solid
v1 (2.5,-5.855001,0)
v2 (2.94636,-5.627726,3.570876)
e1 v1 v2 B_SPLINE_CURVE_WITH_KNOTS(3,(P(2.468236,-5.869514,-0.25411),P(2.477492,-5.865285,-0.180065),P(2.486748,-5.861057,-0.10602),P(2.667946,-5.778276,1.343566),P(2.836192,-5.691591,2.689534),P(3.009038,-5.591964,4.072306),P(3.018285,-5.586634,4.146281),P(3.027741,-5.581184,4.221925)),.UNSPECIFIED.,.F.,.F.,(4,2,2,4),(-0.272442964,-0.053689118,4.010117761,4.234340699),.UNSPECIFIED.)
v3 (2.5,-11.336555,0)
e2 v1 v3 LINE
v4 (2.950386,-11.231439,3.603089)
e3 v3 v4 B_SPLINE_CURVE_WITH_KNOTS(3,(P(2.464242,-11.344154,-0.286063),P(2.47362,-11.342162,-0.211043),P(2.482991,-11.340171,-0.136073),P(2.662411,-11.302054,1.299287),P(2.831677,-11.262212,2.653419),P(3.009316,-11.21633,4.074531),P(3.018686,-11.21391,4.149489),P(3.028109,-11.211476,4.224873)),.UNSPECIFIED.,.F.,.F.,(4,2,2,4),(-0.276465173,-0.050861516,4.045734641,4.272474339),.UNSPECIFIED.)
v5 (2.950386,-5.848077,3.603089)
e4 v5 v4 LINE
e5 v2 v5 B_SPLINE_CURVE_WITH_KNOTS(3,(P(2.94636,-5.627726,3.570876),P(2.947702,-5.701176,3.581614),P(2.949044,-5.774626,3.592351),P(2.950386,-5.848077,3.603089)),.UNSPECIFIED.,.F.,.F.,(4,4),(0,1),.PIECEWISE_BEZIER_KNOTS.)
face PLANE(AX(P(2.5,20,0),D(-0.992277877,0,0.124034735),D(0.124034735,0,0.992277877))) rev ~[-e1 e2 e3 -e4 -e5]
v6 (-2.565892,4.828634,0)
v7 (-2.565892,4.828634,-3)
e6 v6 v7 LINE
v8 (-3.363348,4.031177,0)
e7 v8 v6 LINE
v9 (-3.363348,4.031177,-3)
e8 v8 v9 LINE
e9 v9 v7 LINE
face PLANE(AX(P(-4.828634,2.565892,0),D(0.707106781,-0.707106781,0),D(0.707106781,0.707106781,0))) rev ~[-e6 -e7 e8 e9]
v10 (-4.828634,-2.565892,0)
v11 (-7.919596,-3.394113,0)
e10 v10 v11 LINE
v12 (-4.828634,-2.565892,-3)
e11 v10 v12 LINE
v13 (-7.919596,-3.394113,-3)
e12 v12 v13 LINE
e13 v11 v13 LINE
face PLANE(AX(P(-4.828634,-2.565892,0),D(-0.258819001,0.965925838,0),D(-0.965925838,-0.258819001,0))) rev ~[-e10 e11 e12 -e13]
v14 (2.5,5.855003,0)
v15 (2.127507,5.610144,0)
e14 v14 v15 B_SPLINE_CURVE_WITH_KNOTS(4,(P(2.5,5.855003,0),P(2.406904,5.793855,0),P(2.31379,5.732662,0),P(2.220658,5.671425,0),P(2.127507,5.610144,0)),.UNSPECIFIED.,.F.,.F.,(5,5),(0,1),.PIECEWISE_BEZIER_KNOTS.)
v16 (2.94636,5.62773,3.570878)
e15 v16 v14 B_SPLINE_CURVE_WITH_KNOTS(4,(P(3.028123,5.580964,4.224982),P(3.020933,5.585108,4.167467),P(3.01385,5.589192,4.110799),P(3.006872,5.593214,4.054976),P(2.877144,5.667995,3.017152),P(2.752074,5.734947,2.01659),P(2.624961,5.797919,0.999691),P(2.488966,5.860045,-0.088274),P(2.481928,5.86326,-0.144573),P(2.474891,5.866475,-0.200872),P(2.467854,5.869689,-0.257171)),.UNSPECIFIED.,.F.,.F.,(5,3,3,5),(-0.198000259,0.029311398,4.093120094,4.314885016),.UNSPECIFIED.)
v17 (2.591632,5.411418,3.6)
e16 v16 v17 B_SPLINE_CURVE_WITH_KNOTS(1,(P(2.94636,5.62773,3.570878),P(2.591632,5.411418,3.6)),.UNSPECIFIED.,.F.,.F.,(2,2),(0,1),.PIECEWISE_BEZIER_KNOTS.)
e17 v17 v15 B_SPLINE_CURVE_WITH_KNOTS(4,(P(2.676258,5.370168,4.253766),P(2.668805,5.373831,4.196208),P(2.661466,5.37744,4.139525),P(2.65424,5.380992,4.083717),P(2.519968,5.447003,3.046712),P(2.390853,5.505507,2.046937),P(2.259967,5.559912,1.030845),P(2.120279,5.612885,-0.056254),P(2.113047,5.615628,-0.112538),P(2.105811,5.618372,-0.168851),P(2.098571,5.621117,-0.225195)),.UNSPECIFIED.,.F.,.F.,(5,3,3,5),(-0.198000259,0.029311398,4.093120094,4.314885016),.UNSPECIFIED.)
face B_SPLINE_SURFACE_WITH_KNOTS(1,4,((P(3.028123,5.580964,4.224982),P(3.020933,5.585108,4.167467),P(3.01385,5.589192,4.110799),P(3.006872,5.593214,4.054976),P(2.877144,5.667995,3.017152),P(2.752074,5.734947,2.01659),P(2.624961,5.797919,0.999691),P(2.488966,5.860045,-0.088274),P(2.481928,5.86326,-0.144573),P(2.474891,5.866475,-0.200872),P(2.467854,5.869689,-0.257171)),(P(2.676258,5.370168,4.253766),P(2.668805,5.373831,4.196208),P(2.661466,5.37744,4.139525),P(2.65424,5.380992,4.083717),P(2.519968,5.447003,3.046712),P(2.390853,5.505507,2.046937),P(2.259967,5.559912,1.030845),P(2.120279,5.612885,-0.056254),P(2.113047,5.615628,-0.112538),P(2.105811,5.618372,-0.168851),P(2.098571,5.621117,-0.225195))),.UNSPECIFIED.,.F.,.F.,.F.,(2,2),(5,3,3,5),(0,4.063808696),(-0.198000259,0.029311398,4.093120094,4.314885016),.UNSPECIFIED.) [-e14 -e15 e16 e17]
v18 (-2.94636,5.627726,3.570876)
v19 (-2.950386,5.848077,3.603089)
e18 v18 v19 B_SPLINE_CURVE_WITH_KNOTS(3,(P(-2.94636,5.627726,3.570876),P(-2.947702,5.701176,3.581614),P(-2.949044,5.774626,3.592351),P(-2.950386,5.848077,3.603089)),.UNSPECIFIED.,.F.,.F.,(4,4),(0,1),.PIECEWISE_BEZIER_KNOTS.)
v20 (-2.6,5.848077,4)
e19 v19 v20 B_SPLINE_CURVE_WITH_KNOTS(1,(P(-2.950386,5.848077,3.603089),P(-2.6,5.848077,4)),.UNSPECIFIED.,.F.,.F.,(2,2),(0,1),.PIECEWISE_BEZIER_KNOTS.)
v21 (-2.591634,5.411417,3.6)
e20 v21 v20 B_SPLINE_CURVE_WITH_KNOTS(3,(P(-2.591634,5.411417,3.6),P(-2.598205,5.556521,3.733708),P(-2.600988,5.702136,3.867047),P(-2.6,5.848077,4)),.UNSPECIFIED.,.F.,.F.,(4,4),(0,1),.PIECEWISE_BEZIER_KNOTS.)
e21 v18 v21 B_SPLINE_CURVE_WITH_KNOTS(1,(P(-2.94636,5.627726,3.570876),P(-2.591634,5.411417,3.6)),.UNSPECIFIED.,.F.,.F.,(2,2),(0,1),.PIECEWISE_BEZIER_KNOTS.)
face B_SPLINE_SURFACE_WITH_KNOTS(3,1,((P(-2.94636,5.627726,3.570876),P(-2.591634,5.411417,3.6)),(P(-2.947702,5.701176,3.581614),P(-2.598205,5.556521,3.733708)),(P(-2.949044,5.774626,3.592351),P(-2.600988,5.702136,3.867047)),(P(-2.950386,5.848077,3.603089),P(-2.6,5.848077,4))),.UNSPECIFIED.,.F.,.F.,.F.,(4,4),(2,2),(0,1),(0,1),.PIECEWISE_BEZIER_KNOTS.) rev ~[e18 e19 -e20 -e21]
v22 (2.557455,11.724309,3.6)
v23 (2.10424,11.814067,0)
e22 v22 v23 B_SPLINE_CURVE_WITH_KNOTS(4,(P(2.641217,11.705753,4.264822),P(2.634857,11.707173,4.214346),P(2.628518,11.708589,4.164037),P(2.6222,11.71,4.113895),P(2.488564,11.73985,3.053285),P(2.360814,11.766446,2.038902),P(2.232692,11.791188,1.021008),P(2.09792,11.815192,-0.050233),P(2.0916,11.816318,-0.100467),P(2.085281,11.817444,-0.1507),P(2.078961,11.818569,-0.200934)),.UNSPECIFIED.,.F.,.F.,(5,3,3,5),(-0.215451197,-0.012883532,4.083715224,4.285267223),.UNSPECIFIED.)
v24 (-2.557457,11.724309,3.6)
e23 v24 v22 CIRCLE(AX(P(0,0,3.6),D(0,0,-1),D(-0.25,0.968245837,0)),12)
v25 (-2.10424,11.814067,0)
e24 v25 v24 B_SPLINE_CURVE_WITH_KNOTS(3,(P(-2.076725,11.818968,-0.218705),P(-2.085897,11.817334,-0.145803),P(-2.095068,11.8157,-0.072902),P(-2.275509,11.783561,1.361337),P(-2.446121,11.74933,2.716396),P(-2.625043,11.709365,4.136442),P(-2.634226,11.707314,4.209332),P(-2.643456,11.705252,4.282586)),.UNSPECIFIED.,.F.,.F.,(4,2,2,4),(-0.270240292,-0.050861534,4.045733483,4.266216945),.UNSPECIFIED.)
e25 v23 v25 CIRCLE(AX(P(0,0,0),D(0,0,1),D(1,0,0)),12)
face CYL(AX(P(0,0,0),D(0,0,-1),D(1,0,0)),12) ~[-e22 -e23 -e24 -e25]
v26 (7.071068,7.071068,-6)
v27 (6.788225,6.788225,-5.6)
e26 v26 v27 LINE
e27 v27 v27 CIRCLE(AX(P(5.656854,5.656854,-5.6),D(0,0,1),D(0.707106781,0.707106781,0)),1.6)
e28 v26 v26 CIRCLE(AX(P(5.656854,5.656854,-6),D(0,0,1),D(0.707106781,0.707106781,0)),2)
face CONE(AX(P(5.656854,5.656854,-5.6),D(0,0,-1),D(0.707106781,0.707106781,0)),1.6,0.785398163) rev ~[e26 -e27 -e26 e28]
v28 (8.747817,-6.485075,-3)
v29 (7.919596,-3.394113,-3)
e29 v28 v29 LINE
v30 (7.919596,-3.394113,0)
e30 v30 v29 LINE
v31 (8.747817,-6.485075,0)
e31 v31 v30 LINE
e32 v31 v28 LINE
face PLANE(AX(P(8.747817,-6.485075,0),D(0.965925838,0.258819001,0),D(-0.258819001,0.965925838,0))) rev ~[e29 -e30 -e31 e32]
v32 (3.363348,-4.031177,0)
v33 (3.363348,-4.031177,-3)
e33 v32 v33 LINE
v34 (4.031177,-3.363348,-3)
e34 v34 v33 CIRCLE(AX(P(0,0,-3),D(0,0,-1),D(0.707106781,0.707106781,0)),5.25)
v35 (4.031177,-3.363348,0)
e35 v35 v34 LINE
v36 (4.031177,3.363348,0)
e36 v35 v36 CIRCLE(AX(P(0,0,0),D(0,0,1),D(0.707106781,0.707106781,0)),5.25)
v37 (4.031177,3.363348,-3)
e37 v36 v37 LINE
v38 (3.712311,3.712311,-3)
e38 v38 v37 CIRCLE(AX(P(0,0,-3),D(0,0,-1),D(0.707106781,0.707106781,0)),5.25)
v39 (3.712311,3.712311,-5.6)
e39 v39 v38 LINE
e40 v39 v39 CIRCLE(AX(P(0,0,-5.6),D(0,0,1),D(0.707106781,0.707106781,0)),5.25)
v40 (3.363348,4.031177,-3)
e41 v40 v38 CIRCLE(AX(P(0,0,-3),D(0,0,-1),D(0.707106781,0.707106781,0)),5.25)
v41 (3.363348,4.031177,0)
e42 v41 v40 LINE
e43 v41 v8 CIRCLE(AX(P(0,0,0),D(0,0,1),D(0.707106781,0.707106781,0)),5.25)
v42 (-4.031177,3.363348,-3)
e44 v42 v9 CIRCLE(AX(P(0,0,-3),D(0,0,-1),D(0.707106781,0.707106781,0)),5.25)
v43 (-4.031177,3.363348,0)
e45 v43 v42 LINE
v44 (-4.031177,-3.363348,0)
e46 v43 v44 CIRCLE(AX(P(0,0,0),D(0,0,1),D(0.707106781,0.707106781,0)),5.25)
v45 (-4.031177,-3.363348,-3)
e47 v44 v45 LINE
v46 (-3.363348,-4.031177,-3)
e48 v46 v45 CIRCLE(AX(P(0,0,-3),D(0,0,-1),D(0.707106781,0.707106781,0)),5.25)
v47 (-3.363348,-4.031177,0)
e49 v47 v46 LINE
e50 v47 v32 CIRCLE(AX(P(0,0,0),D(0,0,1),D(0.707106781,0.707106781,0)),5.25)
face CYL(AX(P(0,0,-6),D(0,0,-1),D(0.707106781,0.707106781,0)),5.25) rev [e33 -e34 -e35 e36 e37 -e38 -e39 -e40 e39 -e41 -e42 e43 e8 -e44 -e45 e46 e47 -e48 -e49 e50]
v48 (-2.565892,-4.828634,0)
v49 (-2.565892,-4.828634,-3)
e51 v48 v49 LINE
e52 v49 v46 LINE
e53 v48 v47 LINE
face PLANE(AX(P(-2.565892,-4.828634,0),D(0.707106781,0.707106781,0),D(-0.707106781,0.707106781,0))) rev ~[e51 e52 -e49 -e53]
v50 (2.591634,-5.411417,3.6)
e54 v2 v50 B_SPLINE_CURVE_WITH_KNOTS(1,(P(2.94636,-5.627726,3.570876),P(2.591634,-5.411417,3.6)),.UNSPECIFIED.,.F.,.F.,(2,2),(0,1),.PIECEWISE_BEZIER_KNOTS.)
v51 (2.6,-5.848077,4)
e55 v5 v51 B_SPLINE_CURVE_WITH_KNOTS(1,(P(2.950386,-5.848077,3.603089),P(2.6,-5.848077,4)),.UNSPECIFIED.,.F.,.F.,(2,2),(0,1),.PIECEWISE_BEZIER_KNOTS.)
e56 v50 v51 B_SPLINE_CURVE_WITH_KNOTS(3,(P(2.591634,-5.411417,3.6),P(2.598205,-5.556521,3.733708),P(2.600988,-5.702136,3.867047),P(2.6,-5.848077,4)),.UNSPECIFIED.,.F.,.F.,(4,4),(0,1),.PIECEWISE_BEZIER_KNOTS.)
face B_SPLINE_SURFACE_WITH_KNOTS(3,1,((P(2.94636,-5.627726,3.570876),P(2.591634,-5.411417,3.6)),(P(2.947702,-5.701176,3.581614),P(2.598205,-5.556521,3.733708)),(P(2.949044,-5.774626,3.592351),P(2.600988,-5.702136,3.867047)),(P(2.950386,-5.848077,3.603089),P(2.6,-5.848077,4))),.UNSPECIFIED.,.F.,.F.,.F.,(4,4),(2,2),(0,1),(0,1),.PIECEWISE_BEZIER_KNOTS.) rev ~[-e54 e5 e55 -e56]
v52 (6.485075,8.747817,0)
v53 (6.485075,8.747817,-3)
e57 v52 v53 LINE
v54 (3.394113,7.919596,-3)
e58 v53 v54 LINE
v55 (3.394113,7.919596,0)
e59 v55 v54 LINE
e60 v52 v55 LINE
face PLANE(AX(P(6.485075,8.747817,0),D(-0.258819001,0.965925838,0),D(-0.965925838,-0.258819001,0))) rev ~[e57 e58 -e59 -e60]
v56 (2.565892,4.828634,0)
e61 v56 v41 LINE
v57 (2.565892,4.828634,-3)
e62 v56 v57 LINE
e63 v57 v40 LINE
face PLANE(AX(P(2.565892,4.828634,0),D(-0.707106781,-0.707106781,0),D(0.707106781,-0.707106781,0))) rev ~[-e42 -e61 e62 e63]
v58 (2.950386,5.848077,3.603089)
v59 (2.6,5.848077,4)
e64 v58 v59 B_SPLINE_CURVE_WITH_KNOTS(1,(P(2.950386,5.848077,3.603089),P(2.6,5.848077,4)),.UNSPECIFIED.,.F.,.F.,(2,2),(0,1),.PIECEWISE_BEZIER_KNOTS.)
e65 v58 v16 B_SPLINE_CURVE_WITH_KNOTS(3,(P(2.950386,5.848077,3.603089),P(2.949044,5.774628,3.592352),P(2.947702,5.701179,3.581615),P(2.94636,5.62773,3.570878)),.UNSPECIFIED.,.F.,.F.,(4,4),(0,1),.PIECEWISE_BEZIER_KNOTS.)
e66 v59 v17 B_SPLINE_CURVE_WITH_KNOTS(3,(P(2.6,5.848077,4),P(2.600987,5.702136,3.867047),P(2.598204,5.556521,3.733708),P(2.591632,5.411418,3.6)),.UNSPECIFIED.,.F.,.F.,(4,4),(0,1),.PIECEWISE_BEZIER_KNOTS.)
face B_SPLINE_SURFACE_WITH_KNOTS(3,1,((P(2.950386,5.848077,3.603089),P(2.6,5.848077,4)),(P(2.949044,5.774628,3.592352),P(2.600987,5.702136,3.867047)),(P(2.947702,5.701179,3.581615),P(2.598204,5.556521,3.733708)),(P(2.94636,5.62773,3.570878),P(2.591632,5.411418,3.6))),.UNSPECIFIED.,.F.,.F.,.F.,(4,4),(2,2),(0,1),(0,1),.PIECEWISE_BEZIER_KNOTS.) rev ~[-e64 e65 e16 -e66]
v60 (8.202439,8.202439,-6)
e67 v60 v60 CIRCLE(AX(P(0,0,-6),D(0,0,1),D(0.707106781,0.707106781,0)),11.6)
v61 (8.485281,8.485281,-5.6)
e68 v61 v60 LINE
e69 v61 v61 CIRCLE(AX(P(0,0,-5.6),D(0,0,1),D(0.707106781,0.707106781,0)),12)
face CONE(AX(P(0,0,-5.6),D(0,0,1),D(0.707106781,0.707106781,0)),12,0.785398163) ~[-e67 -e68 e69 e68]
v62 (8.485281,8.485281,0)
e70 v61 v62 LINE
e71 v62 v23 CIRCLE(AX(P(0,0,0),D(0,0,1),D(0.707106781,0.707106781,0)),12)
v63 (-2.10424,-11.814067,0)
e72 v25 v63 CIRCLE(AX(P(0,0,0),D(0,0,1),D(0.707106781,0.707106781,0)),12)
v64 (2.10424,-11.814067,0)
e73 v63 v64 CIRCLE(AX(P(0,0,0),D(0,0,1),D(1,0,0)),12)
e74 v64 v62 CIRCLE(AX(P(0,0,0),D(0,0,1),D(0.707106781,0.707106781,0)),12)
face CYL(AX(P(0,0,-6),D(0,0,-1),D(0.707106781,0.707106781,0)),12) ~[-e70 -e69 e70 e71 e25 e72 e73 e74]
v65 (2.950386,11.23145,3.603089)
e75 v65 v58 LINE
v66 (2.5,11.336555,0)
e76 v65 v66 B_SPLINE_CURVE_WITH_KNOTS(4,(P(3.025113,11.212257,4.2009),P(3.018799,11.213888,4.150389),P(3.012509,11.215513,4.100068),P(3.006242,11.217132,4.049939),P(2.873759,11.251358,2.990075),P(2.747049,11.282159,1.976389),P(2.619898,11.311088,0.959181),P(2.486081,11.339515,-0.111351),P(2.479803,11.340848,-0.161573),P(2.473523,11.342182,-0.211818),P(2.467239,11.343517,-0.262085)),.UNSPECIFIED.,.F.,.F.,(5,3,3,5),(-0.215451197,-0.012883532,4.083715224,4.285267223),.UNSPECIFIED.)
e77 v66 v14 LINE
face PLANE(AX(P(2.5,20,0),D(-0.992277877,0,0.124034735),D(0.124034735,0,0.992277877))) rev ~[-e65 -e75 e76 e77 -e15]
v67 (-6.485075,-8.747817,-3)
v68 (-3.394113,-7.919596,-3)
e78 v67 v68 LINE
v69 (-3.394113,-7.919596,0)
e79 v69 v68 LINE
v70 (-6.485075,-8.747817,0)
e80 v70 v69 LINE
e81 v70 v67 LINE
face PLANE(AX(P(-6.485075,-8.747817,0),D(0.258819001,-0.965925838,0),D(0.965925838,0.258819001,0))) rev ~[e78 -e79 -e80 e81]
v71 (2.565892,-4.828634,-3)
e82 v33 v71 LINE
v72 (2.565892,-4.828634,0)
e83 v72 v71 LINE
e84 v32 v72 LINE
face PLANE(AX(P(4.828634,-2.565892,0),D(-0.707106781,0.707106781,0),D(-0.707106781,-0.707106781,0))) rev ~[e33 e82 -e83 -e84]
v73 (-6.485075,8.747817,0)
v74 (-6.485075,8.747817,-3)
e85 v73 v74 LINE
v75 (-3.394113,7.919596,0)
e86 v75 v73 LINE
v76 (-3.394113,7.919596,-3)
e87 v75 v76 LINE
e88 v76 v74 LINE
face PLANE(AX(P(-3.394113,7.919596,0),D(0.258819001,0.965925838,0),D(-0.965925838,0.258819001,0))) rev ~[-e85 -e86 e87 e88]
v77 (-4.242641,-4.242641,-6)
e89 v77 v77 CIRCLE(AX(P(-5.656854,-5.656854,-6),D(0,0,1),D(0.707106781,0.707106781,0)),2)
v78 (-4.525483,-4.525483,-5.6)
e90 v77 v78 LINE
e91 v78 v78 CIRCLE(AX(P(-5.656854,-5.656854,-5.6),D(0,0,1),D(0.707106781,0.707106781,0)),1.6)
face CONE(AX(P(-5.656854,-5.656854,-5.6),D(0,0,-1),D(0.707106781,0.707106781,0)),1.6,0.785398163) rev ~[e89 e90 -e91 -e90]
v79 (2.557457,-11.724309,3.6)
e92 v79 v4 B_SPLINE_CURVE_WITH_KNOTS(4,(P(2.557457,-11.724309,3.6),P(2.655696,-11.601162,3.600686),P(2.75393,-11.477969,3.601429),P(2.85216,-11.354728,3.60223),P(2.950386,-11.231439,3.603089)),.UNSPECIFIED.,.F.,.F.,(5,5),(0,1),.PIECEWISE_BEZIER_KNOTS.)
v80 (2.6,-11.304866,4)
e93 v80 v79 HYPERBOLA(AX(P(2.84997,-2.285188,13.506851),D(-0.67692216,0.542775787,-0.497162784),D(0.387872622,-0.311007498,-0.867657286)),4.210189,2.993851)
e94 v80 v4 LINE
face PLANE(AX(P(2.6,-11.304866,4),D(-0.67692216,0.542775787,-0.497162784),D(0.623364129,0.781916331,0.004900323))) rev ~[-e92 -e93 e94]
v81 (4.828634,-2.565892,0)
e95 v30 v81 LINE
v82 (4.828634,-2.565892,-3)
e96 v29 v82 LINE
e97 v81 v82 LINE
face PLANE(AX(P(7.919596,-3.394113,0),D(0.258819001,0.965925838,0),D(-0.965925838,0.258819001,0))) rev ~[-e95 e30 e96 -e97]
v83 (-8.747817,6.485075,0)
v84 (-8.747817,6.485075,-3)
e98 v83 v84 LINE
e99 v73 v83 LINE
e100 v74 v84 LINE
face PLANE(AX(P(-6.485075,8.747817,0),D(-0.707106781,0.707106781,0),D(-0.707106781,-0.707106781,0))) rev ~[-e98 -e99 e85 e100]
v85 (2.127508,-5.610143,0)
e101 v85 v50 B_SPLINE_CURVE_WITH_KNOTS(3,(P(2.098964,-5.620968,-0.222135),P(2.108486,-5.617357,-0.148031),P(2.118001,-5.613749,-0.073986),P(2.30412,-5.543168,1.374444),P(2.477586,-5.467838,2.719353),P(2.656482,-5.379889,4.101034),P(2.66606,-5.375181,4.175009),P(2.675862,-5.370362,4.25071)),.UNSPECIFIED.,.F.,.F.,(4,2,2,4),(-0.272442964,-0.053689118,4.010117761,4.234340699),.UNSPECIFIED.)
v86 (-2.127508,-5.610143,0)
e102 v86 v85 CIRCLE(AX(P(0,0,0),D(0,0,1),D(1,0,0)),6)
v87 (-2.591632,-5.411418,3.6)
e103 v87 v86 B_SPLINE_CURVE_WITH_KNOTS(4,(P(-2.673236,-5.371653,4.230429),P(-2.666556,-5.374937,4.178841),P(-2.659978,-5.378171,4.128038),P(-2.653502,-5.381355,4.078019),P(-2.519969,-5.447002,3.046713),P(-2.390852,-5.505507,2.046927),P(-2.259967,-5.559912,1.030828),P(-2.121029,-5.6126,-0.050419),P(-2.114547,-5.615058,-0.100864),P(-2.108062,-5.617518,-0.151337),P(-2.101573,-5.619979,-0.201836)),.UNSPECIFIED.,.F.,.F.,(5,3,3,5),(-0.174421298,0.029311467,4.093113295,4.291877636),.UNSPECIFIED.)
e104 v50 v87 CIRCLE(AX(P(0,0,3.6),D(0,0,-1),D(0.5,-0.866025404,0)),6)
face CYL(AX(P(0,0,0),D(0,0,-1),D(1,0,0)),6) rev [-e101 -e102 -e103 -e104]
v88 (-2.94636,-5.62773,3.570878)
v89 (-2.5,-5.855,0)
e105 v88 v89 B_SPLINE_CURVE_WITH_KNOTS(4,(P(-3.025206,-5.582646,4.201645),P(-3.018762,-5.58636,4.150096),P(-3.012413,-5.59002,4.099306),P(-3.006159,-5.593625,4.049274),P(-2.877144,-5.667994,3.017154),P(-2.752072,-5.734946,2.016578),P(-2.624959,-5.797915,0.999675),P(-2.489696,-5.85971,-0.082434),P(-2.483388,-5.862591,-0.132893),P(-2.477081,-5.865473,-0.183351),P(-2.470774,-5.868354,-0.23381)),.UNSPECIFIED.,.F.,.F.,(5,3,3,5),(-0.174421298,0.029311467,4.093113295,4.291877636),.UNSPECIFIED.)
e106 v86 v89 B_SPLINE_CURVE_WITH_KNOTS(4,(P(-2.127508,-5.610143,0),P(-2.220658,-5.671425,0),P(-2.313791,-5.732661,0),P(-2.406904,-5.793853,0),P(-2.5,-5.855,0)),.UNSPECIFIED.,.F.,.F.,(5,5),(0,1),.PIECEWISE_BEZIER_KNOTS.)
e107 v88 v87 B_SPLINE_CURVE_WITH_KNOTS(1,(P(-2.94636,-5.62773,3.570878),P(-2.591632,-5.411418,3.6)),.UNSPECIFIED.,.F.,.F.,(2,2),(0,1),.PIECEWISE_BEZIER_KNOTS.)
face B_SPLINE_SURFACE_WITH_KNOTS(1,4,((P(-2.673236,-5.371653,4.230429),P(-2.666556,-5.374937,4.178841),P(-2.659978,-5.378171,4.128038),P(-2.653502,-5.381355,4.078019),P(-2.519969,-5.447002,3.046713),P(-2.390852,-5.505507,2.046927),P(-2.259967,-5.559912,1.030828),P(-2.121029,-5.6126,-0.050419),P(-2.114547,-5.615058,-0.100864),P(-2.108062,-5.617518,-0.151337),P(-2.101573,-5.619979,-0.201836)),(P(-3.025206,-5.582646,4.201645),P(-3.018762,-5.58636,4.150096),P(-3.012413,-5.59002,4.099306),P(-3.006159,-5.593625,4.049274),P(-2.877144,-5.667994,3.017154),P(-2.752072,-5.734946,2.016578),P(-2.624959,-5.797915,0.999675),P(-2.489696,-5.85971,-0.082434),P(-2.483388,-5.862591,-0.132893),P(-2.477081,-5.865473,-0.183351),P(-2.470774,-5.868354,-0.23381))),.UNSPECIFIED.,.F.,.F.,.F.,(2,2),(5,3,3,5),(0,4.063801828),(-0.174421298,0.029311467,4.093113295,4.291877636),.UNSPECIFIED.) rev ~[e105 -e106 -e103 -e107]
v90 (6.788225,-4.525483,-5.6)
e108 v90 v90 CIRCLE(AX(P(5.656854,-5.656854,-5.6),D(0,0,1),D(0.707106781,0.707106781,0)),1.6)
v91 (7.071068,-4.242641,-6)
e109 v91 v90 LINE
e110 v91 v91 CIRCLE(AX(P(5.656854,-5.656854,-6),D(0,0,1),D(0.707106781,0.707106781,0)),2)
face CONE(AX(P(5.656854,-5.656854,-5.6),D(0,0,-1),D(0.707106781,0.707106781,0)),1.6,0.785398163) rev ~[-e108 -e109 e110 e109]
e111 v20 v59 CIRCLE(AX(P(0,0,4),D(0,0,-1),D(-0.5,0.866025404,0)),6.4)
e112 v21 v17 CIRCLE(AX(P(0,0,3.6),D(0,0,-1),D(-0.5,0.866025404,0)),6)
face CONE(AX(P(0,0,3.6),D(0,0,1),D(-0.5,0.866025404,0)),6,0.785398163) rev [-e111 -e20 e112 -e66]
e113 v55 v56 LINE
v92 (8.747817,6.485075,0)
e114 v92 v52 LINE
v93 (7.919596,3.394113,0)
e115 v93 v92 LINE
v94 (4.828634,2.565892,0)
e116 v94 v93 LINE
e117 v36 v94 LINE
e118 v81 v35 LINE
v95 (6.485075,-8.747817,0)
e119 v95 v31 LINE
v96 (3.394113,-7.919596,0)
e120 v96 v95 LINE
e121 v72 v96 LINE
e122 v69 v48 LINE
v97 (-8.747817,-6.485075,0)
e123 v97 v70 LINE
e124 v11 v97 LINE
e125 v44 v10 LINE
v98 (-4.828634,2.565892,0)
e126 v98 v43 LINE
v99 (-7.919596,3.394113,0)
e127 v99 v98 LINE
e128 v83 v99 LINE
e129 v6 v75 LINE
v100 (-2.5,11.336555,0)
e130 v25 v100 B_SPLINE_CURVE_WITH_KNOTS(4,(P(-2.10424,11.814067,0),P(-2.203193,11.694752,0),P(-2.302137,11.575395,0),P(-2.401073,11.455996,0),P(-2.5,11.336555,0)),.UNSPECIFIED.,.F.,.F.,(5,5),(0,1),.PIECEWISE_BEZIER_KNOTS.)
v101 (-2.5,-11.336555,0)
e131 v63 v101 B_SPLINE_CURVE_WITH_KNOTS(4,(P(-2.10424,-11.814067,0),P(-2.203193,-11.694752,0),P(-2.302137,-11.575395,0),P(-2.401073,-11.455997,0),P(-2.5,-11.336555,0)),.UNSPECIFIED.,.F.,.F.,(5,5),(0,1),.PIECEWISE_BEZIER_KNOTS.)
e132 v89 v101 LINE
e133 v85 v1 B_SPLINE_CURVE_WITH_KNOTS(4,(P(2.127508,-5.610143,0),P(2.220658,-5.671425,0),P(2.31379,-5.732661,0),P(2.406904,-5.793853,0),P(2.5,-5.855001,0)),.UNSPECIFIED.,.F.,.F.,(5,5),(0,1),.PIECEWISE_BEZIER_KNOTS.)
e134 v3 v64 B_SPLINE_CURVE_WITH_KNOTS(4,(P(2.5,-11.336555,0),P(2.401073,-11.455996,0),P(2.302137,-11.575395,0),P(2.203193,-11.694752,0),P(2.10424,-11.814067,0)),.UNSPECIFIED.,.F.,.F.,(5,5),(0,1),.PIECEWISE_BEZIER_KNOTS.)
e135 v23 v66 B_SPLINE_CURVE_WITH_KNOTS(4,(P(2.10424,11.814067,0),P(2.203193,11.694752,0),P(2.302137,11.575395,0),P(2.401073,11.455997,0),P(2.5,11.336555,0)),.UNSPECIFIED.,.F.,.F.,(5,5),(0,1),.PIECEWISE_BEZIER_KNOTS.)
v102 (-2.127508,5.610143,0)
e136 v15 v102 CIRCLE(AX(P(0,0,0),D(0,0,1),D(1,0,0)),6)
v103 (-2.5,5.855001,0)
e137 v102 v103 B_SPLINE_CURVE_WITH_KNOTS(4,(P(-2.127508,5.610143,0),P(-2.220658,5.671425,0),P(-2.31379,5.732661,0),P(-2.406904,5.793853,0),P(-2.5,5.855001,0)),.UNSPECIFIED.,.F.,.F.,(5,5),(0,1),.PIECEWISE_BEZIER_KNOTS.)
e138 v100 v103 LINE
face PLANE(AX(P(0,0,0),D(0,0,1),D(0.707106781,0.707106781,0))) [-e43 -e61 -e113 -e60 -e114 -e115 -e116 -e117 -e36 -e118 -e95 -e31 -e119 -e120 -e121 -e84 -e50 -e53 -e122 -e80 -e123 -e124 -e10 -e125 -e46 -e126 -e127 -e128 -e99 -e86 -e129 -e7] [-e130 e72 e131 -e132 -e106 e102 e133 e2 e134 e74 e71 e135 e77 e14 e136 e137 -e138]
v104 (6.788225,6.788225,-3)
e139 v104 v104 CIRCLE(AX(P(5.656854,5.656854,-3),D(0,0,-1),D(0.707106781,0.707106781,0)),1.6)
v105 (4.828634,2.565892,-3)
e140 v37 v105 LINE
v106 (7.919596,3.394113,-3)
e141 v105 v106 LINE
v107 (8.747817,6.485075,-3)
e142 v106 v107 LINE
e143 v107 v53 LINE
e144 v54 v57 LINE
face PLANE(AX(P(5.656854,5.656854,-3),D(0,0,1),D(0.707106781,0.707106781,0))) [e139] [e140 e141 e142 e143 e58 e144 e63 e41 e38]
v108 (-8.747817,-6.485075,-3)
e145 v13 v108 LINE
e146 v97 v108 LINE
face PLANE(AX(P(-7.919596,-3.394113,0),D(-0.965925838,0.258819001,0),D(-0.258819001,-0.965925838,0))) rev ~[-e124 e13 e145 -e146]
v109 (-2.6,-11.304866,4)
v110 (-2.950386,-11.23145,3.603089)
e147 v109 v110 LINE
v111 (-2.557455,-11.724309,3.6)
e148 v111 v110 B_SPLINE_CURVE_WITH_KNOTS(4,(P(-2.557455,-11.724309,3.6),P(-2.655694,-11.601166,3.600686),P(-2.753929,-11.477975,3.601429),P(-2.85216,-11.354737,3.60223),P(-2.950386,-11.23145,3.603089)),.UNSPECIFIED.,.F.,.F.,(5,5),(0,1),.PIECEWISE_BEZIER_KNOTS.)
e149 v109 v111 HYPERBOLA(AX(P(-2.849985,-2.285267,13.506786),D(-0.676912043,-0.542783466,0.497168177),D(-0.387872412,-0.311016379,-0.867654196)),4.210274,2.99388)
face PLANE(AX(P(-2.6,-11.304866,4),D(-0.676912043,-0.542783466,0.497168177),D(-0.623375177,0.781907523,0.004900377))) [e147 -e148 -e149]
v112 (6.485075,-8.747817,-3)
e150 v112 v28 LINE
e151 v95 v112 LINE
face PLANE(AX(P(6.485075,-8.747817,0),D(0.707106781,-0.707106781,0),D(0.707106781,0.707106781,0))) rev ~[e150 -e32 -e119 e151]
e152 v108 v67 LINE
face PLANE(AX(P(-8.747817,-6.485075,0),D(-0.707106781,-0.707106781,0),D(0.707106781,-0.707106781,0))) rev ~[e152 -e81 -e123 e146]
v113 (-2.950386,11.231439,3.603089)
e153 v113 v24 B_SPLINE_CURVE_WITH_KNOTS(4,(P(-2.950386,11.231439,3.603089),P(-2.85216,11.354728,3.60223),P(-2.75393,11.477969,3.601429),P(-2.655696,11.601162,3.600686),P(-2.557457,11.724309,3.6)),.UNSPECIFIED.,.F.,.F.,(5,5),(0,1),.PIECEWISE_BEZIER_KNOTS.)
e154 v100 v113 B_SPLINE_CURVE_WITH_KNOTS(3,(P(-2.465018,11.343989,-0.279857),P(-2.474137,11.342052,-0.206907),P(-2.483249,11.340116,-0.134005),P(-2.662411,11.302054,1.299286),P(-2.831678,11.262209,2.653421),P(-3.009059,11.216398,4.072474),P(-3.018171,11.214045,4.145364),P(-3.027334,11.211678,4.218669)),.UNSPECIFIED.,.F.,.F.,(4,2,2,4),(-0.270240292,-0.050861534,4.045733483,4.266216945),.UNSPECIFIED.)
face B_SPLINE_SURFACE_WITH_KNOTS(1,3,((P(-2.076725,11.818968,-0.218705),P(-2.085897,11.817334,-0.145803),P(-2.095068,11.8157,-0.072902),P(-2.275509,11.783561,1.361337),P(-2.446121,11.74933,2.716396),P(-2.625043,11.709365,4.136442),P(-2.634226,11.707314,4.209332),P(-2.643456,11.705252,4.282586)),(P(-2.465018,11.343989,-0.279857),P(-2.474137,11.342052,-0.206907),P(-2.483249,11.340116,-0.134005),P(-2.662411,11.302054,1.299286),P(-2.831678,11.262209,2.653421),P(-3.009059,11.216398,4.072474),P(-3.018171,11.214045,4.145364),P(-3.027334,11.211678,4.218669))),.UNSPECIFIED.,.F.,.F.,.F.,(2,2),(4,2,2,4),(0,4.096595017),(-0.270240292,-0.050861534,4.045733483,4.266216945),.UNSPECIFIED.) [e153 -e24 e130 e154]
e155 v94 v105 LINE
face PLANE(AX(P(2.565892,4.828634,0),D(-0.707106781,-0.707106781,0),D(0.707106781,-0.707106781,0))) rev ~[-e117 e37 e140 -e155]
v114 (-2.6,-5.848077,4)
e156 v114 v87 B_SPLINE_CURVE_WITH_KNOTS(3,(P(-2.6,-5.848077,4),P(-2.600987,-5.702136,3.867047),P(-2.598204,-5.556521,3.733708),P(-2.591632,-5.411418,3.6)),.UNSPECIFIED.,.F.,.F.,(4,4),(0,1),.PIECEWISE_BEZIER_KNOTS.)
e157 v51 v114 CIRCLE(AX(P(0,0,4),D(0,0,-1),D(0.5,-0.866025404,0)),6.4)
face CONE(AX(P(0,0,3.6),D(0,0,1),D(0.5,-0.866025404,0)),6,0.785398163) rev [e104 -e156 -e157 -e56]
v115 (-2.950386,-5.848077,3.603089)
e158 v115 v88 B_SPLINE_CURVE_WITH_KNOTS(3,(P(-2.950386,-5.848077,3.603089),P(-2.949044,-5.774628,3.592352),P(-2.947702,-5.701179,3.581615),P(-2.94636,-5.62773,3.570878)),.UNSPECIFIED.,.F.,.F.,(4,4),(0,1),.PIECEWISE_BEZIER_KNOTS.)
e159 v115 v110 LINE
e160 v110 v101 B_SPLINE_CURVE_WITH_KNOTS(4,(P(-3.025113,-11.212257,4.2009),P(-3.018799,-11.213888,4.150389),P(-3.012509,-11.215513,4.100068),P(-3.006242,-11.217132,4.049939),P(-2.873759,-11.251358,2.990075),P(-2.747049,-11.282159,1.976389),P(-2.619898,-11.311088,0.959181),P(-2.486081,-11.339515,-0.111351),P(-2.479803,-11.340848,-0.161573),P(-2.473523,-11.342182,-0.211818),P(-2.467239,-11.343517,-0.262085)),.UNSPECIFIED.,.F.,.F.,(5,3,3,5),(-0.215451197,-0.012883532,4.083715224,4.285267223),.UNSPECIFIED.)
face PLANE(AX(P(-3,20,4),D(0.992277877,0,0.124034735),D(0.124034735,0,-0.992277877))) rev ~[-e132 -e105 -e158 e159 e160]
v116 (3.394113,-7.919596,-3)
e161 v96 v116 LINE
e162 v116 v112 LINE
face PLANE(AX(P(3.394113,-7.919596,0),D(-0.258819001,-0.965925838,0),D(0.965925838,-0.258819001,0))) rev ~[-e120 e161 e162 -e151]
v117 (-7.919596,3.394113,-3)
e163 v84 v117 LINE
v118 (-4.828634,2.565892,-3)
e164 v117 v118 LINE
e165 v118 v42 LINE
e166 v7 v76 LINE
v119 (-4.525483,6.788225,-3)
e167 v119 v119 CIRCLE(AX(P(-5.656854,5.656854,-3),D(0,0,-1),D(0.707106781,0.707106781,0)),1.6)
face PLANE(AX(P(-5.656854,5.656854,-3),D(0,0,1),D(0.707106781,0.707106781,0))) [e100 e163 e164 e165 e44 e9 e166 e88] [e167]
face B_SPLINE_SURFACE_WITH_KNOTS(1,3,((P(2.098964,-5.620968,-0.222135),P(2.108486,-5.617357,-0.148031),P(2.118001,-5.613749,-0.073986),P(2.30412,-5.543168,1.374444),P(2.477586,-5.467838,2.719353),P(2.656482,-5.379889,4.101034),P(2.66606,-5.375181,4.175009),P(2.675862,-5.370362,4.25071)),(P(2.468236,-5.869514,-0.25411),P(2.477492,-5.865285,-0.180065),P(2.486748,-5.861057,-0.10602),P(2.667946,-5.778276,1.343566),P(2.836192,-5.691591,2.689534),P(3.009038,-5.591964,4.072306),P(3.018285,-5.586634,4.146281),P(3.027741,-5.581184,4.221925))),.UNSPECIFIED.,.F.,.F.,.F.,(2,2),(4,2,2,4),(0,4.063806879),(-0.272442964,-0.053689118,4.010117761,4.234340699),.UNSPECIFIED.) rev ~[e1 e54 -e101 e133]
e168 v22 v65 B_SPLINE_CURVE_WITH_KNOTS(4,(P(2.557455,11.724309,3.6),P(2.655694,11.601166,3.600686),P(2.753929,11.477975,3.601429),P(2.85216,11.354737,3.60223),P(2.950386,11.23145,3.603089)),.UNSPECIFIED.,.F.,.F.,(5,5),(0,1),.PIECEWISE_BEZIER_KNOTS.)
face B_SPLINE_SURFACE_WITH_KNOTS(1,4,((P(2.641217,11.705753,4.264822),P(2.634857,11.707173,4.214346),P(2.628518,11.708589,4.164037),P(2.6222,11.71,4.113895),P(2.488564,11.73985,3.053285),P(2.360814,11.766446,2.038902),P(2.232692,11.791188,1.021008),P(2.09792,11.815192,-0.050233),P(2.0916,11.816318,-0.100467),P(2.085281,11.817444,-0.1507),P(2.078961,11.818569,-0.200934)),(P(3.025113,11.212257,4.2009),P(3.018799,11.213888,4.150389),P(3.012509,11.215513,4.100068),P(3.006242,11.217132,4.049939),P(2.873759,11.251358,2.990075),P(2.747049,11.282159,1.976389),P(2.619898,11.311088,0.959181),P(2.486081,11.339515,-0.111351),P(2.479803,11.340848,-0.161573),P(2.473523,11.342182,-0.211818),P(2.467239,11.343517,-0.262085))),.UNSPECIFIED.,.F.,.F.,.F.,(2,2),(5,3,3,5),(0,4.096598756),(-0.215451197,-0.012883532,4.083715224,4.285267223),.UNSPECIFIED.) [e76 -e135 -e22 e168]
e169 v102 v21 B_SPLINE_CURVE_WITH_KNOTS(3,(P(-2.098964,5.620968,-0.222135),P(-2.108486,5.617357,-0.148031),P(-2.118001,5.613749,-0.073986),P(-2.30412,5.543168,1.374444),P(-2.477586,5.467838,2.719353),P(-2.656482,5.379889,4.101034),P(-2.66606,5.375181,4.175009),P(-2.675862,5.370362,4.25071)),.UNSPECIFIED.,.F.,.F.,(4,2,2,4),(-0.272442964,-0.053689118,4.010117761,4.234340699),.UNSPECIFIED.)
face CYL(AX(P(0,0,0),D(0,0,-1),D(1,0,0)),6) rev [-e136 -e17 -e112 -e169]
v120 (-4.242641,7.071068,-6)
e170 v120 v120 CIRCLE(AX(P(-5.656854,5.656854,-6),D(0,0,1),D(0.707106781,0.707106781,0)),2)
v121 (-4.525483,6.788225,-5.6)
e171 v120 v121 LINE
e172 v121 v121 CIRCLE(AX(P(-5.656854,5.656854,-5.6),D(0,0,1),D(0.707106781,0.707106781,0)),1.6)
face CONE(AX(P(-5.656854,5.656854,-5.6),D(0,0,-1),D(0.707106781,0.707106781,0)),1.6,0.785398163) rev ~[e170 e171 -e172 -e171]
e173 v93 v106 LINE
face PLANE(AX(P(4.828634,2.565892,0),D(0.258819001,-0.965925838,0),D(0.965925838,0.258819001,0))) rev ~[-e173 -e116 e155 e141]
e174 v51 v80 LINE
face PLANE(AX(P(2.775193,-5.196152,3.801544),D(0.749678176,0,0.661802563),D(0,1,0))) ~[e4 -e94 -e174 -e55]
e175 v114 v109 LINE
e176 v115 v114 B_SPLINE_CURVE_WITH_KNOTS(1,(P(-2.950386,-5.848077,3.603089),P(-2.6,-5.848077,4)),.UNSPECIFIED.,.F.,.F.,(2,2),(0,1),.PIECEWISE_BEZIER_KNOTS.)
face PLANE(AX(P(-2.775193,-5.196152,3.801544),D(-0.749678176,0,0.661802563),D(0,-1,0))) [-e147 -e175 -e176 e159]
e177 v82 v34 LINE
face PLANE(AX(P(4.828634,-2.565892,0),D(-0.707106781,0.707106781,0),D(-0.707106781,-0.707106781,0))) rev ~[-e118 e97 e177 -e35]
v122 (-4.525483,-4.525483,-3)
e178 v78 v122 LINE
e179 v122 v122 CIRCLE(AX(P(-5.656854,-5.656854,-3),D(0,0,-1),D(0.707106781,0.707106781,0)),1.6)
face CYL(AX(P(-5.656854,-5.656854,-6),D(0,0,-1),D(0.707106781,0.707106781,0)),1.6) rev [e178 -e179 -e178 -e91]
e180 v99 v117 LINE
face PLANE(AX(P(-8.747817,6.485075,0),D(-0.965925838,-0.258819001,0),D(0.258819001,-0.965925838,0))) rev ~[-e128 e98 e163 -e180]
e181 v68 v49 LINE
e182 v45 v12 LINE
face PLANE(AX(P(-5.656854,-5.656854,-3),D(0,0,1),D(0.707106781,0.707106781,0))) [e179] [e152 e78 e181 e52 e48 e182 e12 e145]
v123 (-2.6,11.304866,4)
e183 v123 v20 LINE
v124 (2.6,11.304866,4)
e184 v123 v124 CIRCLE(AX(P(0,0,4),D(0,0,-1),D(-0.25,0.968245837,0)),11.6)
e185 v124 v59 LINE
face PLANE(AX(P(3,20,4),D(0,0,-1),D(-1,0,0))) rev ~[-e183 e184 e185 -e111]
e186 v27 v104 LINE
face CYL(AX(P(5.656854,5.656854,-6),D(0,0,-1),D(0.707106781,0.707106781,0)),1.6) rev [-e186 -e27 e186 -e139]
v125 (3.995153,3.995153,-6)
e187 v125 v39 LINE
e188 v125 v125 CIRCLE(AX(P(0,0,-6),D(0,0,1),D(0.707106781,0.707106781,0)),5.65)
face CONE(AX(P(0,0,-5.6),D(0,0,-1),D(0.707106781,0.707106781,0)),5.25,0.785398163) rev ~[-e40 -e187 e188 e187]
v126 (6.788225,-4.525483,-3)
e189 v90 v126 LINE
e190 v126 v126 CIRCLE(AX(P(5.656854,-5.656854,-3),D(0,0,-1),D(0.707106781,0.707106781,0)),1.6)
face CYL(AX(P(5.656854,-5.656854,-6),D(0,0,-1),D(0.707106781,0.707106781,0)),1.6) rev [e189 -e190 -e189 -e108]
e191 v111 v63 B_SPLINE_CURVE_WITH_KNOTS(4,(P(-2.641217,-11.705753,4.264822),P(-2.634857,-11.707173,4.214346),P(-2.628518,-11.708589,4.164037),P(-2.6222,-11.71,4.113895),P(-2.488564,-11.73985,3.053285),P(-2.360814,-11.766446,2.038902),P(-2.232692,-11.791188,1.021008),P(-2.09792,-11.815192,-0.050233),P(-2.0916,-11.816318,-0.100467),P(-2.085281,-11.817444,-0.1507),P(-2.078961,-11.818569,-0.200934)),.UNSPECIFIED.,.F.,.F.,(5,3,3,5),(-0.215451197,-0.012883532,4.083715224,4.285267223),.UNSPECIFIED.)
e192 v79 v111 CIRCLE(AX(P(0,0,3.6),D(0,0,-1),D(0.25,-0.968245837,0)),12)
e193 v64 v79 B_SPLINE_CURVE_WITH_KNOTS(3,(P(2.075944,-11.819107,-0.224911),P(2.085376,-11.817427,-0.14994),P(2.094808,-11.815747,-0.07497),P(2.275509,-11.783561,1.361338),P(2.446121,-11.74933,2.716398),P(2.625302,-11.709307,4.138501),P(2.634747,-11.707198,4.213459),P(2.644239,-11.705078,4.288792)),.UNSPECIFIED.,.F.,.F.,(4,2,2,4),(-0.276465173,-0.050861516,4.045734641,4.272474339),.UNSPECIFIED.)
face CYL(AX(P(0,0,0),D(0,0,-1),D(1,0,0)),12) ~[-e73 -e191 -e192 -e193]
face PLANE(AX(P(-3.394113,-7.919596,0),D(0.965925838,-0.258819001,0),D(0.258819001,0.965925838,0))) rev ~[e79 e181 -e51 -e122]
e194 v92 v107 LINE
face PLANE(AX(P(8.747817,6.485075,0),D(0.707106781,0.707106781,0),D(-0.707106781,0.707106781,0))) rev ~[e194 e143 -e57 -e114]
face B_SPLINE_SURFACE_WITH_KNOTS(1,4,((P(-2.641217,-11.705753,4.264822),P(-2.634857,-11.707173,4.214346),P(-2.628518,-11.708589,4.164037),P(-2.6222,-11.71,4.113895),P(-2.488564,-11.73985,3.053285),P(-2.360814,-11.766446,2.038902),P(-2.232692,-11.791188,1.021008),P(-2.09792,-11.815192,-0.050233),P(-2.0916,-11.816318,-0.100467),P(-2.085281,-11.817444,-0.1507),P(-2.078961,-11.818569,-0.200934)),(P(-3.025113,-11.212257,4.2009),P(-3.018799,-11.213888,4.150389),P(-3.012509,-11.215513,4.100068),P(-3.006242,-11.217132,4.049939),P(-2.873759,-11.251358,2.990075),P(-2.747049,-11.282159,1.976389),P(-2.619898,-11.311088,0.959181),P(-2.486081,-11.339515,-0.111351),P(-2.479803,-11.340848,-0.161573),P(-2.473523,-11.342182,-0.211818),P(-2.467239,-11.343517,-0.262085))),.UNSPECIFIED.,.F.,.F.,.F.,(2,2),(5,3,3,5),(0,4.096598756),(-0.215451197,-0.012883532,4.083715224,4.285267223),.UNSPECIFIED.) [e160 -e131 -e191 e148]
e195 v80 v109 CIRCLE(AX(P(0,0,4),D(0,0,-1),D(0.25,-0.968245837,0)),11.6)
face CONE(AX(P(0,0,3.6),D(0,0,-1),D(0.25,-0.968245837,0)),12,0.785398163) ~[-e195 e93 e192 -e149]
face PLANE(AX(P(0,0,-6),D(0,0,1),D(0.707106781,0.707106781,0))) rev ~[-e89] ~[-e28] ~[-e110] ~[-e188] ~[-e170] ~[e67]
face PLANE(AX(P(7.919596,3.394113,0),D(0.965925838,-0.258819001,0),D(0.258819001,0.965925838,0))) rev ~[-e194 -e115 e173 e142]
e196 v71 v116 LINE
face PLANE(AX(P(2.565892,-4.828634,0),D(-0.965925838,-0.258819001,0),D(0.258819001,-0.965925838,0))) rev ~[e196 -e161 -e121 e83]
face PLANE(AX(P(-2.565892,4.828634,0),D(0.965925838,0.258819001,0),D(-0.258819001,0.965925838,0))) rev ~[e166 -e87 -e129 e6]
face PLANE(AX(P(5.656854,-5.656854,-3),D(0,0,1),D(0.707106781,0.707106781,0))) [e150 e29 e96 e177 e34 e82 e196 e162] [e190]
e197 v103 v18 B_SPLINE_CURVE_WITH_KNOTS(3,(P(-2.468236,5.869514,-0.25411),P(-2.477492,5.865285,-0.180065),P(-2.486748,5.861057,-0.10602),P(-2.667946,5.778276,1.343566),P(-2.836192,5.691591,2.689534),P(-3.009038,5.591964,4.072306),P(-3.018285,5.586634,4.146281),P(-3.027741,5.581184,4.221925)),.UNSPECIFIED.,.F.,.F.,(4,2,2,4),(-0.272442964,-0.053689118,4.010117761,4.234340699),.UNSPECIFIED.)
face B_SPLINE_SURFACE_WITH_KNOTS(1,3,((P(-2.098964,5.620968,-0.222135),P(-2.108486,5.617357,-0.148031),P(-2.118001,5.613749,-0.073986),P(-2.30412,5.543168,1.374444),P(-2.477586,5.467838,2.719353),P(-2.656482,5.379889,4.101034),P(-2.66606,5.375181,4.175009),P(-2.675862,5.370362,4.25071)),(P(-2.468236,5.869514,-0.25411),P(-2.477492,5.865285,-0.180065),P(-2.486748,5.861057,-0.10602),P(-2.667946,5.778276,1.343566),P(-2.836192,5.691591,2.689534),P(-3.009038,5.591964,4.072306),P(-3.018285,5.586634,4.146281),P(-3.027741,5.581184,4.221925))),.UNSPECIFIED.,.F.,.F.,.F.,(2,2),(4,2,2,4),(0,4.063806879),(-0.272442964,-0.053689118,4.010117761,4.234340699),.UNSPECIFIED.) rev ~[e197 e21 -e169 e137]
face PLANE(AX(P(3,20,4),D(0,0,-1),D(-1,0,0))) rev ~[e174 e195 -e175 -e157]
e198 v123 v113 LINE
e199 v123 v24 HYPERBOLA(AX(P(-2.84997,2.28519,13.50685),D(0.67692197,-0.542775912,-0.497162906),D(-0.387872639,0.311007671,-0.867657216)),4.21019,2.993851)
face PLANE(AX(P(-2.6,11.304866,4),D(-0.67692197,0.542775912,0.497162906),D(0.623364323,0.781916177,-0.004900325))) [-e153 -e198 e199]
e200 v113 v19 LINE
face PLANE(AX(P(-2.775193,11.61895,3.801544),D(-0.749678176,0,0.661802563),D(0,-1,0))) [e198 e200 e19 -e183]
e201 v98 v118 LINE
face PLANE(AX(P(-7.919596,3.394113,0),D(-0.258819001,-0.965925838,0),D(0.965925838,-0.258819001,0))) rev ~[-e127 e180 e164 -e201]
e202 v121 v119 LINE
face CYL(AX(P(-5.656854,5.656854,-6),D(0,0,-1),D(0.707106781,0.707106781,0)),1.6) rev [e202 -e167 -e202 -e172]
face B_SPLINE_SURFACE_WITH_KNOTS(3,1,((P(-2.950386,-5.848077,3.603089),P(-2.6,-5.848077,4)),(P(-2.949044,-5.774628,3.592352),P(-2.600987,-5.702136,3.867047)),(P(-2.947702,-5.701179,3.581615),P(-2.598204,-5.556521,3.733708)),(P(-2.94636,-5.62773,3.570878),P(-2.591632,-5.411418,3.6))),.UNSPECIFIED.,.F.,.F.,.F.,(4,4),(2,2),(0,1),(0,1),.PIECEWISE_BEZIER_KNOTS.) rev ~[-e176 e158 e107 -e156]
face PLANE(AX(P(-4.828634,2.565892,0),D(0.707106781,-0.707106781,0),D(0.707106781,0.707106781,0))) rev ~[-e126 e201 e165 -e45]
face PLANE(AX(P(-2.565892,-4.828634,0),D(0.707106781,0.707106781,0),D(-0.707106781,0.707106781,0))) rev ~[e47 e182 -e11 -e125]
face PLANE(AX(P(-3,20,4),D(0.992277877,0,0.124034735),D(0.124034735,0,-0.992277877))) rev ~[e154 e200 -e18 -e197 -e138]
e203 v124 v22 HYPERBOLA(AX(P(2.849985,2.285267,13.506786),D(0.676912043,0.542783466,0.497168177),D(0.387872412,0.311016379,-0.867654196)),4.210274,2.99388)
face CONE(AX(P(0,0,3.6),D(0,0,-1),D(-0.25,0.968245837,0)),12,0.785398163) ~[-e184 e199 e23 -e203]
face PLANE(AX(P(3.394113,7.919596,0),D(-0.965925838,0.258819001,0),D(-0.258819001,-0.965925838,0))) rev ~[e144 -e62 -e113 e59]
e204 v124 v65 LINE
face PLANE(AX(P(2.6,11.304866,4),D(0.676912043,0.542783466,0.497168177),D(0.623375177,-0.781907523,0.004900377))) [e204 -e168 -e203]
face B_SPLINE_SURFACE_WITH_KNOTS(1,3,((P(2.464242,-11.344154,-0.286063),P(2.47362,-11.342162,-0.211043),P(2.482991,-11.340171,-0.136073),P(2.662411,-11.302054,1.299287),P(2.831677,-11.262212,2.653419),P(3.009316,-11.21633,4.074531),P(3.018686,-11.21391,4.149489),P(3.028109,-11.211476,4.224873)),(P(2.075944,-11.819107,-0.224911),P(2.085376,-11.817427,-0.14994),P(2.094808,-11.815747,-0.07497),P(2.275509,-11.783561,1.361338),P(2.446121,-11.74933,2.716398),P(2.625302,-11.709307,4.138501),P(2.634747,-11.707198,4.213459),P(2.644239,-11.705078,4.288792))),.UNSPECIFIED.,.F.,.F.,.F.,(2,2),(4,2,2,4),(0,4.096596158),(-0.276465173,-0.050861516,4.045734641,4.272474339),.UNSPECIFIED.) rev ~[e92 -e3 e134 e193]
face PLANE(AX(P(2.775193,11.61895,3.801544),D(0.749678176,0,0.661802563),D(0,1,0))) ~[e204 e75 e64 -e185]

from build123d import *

# Parameters (mm, degrees)
TUBE_R                    = 12
TUBE_R_2                  = 6
TUBE_DEPTH                = 10
PAD005_DEPTH              = 40
CHAMFER_SIZE              = 0.4
CHAMFER_PLACEMENT_ANGLE   = 45
SKETCH006_R               = 12
SKETCH006_R_2             = 5.25
SKETCH006_R_3             = 1.6
PAD004_DEPTH              = 6
POCKET002_DEPTH           = 3
CHAMFER001_SIZE           = 0.4
FUSION003_PLACEMENT_ANGLE = 45


with BuildPart() as tube:
    # Tube → Tube (new body)
    with BuildSketch(Plane.XY):
        Circle(TUBE_R)
        Circle(TUBE_R_2, mode=Mode.SUBTRACT)
    extrude(amount=TUBE_DEPTH)


with BuildPart() as chamfer_body:
    # Sketch008 → Pad005 (new body)
    with BuildSketch(Plane.XZ):
        Polygon((-2.5, 0), (2.5, 0), (3, 4), (-3, 4), align=None)
    extrude(amount=PAD005_DEPTH)


with BuildPart() as chamfer_body_1:
    # Body003 placement: moved
    add(chamfer_body.part.moved(Location((0, 20, 0))))

    # Common: intersect Tube
    add(tube.part, mode=Mode.INTERSECT)

    # Chamfer
    chamfer_edges = [chamfer_body_1.edges().sort_by_distance(p)[0] for p in [
        (2.75001, 11.680644, 2.000082),
        (0, 12, 4),
        (-2.75001, 11.680644, 2.000082),
        (3, 8.407551, 4),
        (2.750059, 5.332652, 2.000471),
        (0, 6, 4),
        (-2.750059, 5.332652, 2.000471),
        (-3, 8.407551, 4),
        (-2.750059, -5.332652, 2.000471),
        (0, -6, 4),
        (2.750059, -5.332652, 2.000471),
        (3, -8.407551, 4),
        (2.75001, -11.680644, 2.000082),
        (-2.75001, -11.680644, 2.000082),
        (0, -12, 4),
        (-3, -8.407551, 4),
    ]]
    chamfer(chamfer_edges, length=CHAMFER_SIZE)


with BuildPart() as chamfer_body_2:
    # Chamfer placement: moved
    add(chamfer_body_1.part.moved(Location((0, 0, 6))).rotate(Axis((0, 0, 6), (0, 0, -1)), CHAMFER_PLACEMENT_ANGLE))


with BuildPart() as fusion003:
    # Sketch006 → Pad004 (new body)
    with BuildSketch(Plane.XY):
        Circle(SKETCH006_R)
        Circle(SKETCH006_R_2, mode=Mode.SUBTRACT)
        with Locations((-8, 0)):
            Circle(SKETCH006_R_3, mode=Mode.SUBTRACT)
        with Locations((8, 0)):
            Circle(SKETCH006_R_3, mode=Mode.SUBTRACT)
        with Locations((0, 8)):
            Circle(SKETCH006_R_3, mode=Mode.SUBTRACT)
        with Locations((0, -8)):
            Circle(SKETCH006_R_3, mode=Mode.SUBTRACT)
    extrude(amount=PAD004_DEPTH)

    # Sketch007 (on Face8 of Pad004) → Pocket002 (cut)
    with BuildSketch(Plane.XY.offset(6)):
        Polygon((3.2, 8), (1.6, 10.771281), (-1.6, 10.771281), (-3.2, 8), (-1.6, 5.228719), (1.6, 5.228719), align=None)
        Polygon((-8, -3.2), (-5.228719, -1.6), (-5.228719, 1.6), (-8, 3.2), (-10.771281, 1.6), (-10.771281, -1.6), align=None)
        Polygon((8, -3.2), (10.771281, -1.6), (10.771281, 1.6), (8, 3.2), (5.228719, 1.6), (5.228719, -1.6), align=None)
        Polygon((1.6, -10.771281), (3.2, -8), (1.6, -5.228719), (-1.6, -5.228719), (-3.2, -8), (-1.6, -10.771281), align=None)
    extrude(amount=-POCKET002_DEPTH, mode=Mode.SUBTRACT)

    # Chamfer001
    chamfer001_edges = [fusion003.edges().sort_by_distance(p)[0] for p in [
        (-12, 0, 0),
        (-5.25, 0, 0),
        (-1.6, -8, 0),
        (-1.6, 8, 0),
        (6.4, 0, 0),
        (-9.6, 0, 0),
    ]]
    chamfer(chamfer001_edges, length=CHAMFER001_SIZE)

    # Fusion003: union Chamfer body
    add(chamfer_body_2.part)


with BuildPart() as fusion003_1:
    # Fusion003 placement: moved
    add(fusion003.part.moved(Location((0, 0, -6))).rotate(Axis((0, 0, -6), (0, 0, 1)), FUSION003_PLACEMENT_ANGLE))


solid = fusion003_1.part
